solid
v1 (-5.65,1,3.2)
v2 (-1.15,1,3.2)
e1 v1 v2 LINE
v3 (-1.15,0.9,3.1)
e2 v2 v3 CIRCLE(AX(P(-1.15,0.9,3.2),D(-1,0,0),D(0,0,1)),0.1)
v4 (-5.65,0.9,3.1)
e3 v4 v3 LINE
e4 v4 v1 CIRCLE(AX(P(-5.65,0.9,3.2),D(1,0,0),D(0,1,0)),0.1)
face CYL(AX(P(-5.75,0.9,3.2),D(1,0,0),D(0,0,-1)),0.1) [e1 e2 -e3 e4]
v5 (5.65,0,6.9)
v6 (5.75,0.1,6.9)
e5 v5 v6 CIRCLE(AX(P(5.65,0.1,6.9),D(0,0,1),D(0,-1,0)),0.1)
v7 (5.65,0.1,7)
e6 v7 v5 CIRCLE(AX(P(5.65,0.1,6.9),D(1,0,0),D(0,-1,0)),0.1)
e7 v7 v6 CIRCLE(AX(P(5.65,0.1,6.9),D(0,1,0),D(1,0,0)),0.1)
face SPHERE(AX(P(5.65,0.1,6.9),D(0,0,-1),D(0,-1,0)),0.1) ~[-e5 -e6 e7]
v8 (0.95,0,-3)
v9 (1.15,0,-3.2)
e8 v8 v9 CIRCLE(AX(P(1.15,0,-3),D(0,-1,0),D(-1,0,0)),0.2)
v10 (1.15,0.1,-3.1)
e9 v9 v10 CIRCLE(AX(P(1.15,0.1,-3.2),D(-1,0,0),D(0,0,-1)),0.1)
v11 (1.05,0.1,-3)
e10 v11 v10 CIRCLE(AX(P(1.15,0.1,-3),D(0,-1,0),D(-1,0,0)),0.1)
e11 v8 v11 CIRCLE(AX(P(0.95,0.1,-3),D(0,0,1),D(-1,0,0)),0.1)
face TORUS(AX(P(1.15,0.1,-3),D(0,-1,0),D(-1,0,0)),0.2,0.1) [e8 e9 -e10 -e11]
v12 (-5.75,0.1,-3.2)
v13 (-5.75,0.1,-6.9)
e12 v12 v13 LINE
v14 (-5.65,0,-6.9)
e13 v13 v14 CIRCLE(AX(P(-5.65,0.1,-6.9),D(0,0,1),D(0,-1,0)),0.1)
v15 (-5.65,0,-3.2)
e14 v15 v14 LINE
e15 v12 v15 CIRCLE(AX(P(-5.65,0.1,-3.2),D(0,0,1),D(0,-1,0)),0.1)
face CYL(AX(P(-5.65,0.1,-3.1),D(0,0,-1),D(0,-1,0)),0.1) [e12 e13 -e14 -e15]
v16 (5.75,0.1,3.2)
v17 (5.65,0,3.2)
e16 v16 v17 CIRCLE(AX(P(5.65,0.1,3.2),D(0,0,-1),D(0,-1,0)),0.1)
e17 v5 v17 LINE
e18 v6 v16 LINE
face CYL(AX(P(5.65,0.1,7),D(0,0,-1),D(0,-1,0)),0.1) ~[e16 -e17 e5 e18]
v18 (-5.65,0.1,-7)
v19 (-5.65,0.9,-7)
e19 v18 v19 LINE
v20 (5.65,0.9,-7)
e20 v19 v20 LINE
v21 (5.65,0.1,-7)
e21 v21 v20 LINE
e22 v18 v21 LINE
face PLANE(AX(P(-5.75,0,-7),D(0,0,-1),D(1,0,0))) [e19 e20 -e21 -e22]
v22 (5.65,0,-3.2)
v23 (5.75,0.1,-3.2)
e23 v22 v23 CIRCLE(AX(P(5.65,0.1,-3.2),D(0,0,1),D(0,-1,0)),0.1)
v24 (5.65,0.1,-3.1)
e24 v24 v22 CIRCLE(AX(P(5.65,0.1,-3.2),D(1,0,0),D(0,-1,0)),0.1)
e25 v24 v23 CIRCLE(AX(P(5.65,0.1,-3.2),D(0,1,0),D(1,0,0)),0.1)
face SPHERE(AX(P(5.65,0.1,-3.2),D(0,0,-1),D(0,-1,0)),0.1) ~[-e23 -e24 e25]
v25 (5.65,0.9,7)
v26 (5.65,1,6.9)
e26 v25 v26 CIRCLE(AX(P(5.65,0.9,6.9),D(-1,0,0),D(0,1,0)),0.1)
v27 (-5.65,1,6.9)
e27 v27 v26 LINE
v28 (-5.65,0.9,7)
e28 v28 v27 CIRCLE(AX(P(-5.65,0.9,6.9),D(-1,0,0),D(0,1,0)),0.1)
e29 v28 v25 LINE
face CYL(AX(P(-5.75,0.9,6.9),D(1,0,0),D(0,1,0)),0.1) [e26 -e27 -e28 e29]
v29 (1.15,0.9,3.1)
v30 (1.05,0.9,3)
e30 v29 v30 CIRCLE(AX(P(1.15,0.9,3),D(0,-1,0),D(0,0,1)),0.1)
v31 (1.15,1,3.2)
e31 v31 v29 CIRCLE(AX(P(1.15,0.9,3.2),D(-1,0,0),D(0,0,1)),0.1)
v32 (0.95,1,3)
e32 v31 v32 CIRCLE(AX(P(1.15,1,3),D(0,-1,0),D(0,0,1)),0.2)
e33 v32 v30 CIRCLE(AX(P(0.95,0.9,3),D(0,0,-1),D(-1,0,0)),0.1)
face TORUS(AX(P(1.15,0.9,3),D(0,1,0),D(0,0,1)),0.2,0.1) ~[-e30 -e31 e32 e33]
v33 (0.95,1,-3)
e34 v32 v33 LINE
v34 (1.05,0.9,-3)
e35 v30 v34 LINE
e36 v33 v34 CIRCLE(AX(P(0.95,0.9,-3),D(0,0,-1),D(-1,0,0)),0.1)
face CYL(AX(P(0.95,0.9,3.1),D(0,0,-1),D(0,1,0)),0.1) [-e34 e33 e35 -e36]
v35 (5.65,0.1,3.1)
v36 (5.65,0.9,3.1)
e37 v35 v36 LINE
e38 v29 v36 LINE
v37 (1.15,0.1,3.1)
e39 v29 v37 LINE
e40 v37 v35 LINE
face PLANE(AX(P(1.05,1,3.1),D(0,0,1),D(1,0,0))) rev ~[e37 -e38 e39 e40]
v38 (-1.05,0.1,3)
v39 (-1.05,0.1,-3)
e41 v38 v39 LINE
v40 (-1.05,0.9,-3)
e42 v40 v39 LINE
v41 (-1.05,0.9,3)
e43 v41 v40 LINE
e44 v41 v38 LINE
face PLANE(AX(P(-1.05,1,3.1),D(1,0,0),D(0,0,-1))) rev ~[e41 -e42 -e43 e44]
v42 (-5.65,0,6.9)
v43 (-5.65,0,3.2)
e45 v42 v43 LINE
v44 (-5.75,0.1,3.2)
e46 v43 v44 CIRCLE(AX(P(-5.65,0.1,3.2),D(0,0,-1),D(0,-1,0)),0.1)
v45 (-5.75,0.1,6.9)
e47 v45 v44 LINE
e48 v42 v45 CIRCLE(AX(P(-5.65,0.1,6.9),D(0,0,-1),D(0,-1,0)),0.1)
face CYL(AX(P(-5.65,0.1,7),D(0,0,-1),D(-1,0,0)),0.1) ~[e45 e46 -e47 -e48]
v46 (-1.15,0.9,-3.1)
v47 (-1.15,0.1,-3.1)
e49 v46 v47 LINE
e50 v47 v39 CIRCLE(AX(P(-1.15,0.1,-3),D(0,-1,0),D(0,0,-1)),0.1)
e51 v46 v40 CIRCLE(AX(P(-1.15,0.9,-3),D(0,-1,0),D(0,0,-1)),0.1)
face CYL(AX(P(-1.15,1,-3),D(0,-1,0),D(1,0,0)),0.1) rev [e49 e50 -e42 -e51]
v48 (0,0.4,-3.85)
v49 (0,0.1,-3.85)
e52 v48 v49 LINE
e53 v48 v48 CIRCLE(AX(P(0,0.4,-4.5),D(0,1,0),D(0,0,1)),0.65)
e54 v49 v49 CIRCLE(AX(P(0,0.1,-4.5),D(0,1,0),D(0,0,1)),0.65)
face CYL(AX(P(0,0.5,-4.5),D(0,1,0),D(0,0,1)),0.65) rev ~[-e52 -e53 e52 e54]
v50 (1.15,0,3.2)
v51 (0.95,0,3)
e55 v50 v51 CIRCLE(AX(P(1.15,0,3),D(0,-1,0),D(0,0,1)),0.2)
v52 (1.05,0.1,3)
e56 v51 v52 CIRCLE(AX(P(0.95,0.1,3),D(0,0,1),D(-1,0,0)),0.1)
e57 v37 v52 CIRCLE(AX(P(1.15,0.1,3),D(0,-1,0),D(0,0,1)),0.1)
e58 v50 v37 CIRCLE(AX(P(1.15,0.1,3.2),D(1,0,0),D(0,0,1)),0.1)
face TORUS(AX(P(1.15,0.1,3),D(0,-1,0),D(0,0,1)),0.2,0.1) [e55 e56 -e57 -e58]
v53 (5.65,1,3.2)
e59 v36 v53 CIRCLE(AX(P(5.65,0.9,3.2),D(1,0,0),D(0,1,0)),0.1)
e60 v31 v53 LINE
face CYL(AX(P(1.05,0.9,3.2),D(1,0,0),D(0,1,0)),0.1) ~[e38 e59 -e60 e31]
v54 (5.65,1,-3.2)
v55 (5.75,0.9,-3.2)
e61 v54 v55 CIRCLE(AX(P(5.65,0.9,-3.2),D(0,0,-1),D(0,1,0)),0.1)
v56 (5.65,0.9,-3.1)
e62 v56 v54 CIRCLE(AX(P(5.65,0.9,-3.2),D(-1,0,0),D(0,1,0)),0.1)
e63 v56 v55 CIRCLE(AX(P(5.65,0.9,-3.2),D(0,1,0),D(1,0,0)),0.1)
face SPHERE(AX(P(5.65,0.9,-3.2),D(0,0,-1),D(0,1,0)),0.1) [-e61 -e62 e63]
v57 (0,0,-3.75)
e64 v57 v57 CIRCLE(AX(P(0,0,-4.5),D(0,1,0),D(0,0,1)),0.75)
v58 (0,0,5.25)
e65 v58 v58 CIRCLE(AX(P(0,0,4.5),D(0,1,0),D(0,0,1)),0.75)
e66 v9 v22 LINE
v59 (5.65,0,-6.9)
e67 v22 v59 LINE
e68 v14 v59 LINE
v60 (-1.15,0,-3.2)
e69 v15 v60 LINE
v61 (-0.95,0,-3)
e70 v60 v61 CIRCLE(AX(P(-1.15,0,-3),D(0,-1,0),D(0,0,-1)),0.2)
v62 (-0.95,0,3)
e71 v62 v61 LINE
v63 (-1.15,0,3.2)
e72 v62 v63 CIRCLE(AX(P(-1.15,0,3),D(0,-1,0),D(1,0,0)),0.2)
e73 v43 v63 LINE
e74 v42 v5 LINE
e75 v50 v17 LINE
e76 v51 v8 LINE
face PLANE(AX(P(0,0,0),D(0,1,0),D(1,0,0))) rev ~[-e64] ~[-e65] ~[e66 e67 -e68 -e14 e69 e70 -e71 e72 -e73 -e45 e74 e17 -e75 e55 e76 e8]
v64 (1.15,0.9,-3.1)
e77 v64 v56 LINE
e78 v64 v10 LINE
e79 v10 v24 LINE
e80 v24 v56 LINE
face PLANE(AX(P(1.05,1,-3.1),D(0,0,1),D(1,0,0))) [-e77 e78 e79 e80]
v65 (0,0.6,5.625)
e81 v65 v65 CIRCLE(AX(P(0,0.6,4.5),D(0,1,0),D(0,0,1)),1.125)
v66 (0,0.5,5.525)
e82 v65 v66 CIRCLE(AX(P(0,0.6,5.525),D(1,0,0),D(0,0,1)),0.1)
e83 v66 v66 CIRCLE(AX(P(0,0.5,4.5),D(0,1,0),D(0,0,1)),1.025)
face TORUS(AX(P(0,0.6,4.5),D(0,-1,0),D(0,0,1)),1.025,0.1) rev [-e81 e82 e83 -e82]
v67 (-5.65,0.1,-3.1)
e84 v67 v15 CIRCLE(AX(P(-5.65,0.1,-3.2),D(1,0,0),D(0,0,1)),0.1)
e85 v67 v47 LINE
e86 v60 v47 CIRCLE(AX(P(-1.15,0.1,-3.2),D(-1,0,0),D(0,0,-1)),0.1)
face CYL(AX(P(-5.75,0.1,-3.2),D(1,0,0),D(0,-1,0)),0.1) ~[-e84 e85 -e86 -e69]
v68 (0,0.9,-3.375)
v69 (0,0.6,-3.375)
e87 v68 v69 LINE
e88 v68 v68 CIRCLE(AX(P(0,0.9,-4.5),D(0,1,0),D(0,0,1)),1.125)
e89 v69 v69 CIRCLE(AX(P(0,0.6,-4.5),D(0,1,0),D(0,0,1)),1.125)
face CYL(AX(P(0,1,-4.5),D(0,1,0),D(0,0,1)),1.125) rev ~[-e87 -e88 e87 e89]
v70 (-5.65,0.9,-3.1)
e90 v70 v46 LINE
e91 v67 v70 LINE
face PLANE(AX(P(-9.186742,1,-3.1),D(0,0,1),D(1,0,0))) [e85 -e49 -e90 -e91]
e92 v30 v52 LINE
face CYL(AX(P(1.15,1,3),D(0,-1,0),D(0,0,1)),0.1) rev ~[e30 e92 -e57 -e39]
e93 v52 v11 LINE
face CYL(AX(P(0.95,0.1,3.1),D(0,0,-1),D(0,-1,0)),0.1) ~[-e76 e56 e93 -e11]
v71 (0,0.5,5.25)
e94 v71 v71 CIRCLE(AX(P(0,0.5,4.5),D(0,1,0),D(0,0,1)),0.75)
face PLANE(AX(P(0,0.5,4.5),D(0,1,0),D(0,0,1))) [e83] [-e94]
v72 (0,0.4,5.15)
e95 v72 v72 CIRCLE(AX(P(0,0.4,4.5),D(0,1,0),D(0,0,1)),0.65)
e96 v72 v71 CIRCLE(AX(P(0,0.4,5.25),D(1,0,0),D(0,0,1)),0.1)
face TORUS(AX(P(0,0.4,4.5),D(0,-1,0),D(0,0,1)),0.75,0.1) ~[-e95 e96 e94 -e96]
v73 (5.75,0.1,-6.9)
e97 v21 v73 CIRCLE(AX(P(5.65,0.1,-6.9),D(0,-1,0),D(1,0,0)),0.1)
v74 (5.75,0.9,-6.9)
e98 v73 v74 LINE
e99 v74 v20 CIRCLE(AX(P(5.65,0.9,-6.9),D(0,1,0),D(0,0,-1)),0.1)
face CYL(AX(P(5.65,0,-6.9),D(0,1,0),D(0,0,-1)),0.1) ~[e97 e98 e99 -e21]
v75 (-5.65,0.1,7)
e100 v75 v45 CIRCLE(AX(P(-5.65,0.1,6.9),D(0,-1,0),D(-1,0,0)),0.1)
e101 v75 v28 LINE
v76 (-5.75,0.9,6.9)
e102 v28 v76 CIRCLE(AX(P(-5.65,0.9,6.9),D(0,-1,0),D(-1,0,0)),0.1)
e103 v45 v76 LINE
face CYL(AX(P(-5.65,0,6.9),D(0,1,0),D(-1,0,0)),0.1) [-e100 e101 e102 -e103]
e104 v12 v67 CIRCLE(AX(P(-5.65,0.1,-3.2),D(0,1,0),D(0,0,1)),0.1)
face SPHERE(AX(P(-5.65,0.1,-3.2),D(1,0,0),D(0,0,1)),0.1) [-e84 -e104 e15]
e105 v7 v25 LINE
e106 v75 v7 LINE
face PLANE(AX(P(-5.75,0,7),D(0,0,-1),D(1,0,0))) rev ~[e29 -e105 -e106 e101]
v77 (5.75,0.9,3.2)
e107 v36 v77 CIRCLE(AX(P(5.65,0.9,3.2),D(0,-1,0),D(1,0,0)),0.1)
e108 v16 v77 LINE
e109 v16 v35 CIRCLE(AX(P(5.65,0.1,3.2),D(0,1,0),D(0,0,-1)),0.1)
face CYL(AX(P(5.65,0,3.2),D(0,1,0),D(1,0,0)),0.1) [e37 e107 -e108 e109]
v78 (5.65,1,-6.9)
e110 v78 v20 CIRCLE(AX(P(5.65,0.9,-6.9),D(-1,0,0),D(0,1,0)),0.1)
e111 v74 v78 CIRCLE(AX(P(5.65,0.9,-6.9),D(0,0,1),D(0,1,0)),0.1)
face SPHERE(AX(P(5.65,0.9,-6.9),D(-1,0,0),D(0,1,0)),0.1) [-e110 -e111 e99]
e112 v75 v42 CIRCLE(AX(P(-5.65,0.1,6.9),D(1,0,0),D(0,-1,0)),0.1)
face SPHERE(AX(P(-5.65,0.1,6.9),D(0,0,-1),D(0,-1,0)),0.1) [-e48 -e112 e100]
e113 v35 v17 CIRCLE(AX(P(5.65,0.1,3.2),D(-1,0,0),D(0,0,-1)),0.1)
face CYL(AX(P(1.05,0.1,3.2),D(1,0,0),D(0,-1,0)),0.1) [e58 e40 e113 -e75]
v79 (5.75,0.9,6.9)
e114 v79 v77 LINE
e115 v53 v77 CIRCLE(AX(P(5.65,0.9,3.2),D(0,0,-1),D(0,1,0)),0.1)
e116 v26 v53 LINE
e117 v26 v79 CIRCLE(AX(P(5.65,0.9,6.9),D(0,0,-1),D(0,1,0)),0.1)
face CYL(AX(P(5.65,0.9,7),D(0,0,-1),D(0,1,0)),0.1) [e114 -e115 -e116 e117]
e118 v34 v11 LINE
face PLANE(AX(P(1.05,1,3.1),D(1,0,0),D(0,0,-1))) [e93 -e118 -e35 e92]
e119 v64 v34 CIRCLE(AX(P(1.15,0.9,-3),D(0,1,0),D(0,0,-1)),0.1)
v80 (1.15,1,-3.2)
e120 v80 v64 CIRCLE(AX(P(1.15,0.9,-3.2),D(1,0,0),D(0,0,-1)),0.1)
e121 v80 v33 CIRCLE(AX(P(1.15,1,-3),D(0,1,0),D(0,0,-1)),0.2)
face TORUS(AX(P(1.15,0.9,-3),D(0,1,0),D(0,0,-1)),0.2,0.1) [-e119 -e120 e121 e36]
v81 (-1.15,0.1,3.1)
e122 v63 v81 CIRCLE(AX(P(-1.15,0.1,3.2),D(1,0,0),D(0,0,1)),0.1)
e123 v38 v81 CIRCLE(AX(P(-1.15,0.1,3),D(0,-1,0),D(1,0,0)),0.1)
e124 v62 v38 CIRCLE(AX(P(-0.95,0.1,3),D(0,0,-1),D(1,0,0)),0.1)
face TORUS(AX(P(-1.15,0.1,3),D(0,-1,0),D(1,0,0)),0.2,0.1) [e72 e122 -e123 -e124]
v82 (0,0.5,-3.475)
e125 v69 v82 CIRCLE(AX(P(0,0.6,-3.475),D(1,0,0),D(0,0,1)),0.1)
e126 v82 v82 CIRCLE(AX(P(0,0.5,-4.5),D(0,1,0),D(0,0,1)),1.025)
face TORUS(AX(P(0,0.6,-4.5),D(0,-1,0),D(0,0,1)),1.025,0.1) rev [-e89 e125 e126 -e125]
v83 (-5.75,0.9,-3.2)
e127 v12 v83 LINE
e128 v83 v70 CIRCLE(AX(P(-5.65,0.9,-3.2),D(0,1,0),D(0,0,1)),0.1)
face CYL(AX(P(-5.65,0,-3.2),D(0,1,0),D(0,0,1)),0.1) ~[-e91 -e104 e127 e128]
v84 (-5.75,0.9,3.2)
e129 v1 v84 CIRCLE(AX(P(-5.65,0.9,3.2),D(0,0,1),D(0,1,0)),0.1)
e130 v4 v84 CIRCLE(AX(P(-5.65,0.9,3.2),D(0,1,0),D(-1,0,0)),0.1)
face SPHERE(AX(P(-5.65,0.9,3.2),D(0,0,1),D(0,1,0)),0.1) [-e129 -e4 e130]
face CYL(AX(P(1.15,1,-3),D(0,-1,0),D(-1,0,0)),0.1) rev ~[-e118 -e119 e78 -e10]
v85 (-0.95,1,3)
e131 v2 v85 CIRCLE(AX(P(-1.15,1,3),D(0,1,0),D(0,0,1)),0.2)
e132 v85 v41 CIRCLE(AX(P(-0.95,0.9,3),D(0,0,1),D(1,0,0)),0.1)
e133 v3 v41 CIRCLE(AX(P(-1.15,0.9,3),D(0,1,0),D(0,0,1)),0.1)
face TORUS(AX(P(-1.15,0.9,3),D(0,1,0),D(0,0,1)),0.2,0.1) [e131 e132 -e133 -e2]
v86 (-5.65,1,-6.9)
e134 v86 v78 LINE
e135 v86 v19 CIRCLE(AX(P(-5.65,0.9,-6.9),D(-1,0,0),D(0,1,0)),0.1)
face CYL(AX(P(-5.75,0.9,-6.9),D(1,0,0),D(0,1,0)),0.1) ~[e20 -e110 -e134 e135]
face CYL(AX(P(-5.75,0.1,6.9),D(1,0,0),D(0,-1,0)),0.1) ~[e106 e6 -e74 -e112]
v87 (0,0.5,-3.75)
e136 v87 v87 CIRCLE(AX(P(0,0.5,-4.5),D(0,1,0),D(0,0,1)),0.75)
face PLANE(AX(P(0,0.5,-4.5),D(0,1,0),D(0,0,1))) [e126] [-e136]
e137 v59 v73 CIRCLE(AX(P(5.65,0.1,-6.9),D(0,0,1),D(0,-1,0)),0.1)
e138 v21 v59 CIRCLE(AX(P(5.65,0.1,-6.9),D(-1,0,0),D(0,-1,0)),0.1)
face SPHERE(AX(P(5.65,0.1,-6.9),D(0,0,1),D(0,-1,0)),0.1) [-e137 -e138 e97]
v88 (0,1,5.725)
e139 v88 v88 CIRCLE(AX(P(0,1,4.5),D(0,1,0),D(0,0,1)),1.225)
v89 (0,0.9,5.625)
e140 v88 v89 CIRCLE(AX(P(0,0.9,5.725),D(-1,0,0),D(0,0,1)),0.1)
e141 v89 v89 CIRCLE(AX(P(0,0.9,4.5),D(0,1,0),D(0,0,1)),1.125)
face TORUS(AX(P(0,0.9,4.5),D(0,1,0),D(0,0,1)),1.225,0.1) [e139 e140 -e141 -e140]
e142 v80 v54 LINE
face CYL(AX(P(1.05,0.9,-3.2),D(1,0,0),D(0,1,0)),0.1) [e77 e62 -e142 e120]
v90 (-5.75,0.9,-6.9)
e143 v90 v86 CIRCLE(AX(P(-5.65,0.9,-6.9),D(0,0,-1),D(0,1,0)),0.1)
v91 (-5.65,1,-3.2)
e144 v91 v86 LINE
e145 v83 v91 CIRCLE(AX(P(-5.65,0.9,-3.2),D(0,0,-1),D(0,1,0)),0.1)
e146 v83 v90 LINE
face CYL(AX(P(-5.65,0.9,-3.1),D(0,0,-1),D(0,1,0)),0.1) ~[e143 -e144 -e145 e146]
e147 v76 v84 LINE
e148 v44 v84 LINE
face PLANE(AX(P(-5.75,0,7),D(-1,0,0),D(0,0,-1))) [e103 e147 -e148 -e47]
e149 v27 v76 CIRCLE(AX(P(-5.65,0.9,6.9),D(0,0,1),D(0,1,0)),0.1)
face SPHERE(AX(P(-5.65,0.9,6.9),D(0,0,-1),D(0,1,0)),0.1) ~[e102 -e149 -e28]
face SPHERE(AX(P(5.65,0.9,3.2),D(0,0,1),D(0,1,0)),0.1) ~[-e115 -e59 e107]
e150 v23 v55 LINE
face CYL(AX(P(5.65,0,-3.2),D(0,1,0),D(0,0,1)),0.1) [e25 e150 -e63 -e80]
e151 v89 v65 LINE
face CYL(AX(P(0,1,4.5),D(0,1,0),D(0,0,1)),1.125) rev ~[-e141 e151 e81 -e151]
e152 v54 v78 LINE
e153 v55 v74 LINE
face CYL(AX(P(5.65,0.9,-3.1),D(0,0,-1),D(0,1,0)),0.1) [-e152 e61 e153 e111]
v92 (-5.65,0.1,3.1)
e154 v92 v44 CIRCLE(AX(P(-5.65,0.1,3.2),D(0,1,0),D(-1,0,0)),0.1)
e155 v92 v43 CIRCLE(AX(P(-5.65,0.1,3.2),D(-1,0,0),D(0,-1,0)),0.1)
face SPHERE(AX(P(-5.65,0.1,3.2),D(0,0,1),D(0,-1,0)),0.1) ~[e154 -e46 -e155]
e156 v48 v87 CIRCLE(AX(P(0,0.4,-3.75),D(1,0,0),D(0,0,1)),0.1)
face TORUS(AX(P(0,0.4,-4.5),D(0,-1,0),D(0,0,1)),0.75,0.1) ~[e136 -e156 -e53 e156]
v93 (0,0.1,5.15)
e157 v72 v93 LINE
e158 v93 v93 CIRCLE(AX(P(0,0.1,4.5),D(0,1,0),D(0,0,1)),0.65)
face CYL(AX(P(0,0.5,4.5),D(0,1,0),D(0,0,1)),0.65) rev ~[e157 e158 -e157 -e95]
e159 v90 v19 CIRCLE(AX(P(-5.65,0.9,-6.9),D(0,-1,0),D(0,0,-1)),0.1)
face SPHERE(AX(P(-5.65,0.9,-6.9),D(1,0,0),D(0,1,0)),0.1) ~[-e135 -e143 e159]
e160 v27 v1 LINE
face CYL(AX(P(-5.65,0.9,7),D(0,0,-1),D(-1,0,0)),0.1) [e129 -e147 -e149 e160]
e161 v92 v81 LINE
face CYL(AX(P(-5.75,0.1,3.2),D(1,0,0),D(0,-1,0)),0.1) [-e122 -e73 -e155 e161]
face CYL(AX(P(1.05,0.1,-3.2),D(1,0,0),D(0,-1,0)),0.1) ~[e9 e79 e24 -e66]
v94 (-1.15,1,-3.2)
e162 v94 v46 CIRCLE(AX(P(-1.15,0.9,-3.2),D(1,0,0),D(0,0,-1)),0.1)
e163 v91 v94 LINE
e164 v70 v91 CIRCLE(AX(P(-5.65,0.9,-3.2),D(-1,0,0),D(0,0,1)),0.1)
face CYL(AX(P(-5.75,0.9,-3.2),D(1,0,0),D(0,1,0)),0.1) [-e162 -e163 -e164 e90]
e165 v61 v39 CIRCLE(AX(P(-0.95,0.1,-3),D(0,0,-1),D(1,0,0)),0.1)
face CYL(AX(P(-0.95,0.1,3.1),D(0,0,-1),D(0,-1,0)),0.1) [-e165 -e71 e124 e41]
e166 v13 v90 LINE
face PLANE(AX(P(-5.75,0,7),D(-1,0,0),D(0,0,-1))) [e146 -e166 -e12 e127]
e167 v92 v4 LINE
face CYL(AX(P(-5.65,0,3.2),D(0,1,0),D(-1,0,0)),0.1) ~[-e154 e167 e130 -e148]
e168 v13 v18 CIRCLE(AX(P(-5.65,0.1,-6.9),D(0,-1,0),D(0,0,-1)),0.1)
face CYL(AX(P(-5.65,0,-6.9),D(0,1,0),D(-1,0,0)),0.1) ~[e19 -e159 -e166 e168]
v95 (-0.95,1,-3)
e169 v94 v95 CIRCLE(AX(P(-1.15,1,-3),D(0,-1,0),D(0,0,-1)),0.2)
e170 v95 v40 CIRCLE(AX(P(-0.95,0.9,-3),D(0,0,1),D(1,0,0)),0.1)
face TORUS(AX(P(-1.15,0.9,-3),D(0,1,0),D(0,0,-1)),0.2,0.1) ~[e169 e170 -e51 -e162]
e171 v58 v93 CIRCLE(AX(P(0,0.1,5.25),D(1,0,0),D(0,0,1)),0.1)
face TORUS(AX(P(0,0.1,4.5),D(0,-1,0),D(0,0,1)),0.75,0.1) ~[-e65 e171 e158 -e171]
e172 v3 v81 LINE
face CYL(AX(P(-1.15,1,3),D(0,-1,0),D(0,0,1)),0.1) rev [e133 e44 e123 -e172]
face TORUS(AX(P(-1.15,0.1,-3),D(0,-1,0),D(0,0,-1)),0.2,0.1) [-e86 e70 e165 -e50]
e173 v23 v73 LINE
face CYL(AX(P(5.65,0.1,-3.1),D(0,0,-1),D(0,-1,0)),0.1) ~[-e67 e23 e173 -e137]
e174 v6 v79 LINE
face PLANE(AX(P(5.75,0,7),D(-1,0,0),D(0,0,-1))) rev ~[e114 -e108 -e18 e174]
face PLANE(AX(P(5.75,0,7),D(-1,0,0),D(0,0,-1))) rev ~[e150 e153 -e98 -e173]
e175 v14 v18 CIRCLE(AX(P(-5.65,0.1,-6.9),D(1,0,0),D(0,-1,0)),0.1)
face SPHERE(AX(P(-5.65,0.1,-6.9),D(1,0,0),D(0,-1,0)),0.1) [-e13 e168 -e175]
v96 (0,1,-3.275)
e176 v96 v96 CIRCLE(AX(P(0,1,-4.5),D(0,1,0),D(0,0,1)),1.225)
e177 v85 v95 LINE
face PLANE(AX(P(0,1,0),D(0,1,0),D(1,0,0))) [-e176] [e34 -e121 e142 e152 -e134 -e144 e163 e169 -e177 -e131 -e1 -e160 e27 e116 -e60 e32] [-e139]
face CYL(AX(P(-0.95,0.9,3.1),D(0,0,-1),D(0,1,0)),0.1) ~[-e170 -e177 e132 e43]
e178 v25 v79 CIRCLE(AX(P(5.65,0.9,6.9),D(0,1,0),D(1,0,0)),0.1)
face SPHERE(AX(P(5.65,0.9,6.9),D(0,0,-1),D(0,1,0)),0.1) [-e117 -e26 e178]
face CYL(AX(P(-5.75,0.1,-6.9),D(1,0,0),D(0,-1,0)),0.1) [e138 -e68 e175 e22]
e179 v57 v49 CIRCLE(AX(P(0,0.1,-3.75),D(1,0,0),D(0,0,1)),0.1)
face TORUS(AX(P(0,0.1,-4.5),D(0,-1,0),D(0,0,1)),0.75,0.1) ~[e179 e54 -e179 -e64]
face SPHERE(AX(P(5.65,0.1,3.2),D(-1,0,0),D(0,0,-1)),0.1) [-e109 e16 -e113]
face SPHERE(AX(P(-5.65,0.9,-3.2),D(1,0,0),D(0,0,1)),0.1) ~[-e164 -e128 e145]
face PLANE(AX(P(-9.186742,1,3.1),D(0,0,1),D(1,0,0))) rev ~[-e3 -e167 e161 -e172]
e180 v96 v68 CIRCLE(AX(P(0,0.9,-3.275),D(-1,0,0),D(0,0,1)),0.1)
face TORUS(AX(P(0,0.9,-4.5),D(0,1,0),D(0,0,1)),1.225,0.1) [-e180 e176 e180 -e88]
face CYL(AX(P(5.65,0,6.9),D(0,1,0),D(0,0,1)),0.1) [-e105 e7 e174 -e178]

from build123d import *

# Parameters (mm, degrees)
SKETCH1_W           = 11.5
SKETCH1_H           = 14
BOSS_EXTRUDE1_DEPTH = 1
SKETCH2_W           = 8.136741744
SKETCH2_H           = 6.2
SKETCH2_W_2         = 9.166143669
CUT_EXTRUDE1_DEPTH  = 1
SKETCH3_R           = 1.125
CUT_EXTRUDE2_DEPTH  = 0.5
SKETCH4_R           = 0.65
CUT_EXTRUDE3_DEPTH  = 0.5
FILLET1_R           = 0.1


with BuildPart() as part:
    # Sketch1 → Boss-Extrude1 (new body)
    with BuildSketch(Plane(origin=(0, 0, 0), x_dir=(1, 0, 0), z_dir=(0, 1, 0))):
        Rectangle(SKETCH1_W, SKETCH1_H)
    extrude(amount=BOSS_EXTRUDE1_DEPTH)

    # Sketch2 → Cut-Extrude1 (cut)
    with BuildSketch(Plane(origin=(0, 1, 0), x_dir=(1, 0, 0), z_dir=(0, 1, 0))):
        with Locations((-5.118370872, 0)):
            Rectangle(SKETCH2_W, SKETCH2_H)
        with Locations((5.633071835, 0)):
            Rectangle(SKETCH2_W_2, SKETCH2_H)
    extrude(amount=-CUT_EXTRUDE1_DEPTH, mode=Mode.SUBTRACT)

    # Sketch3 → Cut-Extrude2 (cut)
    with BuildSketch(Plane(origin=(0, 1, 0), x_dir=(1, 0, 0), z_dir=(0, 1, 0))):
        with Locations(Location((0, 4.5, 0), (0, 0, 270))):
            Circle(SKETCH3_R)
        with Locations(Location((0, -4.5, 0), (0, 0, 270))):
            Circle(SKETCH3_R)
    extrude(amount=-CUT_EXTRUDE2_DEPTH, mode=Mode.SUBTRACT)

    # Sketch4 → Cut-Extrude3 (cut)
    with BuildSketch(Plane(origin=(0, 0.5, 0), x_dir=(1, 0, 0), z_dir=(0, 1, 0))):
        with Locations(Location((0, 4.5, 0), (0, 0, 270))):
            Circle(SKETCH4_R)
        with Locations(Location((0, -4.5, 0), (0, 0, 270))):
            Circle(SKETCH4_R)
    extrude(amount=-CUT_EXTRUDE3_DEPTH, mode=Mode.SUBTRACT)

    # Fillet1
    fillet1_edges = [part.edges().sort_by_distance(p)[0] for p in [
        (5.75, 1, 5.05),
        (0, 1, -7),
        (-5.75, 0, 5.05),
        (-3.4, 0, 3.1),
        (-5.75, 1, 5.05),
        (-3.4, 1, -3.1),
        (-3.4, 1, 3.1),
        (-1.05, 1, 0),
        (-3.4, 0, -3.1),
        (-5.75, 0.5, -3.1),
        (-5.75, 0.5, 3.1),
        (-1.05, 0.5, 3.1),
        (-1.05, 0, 0),
        (-1.05, 0.5, -3.1),
        (5.75, 0, -5.05),
        (3.4, 0, -3.1),
        (5.75, 1, -5.05),
        (3.4, 1, 3.1),
        (3.4, 1, -3.1),
        (1.05, 1, 0),
        (5.75, 0.5, -3.1),
        (1.05, 0.5, -3.1),
        (3.4, 0, 3.1),
        (5.75, 0.5, 3.1),
        (1.05, 0, 0),
        (1.05, 0.5, 3.1),
        (-5.75, 1, -5.05),
        (0, 0, -7),
        (5.75, 0, 5.05),
        (0, 0, 7),
        (0, 0.5, -5.625),
        (0, 1, -5.625),
        (-5.75, 0, -5.05),
        (0, 0.5, 3.375),
        (0, 1, 3.375),
        (0, 0, -5.15),
        (0, 0.5, -5.15),
        (0, 0, 3.85),
        (0, 0.5, 3.85),
        (0, 1, 7),
        (-5.75, 0.5, -7),
        (5.75, 0.5, -7),
        (5.75, 0.5, 7),
        (-5.75, 0.5, 7),
    ]]
    fillet(fillet1_edges, radius=FILLET1_R)


solid = part.part
